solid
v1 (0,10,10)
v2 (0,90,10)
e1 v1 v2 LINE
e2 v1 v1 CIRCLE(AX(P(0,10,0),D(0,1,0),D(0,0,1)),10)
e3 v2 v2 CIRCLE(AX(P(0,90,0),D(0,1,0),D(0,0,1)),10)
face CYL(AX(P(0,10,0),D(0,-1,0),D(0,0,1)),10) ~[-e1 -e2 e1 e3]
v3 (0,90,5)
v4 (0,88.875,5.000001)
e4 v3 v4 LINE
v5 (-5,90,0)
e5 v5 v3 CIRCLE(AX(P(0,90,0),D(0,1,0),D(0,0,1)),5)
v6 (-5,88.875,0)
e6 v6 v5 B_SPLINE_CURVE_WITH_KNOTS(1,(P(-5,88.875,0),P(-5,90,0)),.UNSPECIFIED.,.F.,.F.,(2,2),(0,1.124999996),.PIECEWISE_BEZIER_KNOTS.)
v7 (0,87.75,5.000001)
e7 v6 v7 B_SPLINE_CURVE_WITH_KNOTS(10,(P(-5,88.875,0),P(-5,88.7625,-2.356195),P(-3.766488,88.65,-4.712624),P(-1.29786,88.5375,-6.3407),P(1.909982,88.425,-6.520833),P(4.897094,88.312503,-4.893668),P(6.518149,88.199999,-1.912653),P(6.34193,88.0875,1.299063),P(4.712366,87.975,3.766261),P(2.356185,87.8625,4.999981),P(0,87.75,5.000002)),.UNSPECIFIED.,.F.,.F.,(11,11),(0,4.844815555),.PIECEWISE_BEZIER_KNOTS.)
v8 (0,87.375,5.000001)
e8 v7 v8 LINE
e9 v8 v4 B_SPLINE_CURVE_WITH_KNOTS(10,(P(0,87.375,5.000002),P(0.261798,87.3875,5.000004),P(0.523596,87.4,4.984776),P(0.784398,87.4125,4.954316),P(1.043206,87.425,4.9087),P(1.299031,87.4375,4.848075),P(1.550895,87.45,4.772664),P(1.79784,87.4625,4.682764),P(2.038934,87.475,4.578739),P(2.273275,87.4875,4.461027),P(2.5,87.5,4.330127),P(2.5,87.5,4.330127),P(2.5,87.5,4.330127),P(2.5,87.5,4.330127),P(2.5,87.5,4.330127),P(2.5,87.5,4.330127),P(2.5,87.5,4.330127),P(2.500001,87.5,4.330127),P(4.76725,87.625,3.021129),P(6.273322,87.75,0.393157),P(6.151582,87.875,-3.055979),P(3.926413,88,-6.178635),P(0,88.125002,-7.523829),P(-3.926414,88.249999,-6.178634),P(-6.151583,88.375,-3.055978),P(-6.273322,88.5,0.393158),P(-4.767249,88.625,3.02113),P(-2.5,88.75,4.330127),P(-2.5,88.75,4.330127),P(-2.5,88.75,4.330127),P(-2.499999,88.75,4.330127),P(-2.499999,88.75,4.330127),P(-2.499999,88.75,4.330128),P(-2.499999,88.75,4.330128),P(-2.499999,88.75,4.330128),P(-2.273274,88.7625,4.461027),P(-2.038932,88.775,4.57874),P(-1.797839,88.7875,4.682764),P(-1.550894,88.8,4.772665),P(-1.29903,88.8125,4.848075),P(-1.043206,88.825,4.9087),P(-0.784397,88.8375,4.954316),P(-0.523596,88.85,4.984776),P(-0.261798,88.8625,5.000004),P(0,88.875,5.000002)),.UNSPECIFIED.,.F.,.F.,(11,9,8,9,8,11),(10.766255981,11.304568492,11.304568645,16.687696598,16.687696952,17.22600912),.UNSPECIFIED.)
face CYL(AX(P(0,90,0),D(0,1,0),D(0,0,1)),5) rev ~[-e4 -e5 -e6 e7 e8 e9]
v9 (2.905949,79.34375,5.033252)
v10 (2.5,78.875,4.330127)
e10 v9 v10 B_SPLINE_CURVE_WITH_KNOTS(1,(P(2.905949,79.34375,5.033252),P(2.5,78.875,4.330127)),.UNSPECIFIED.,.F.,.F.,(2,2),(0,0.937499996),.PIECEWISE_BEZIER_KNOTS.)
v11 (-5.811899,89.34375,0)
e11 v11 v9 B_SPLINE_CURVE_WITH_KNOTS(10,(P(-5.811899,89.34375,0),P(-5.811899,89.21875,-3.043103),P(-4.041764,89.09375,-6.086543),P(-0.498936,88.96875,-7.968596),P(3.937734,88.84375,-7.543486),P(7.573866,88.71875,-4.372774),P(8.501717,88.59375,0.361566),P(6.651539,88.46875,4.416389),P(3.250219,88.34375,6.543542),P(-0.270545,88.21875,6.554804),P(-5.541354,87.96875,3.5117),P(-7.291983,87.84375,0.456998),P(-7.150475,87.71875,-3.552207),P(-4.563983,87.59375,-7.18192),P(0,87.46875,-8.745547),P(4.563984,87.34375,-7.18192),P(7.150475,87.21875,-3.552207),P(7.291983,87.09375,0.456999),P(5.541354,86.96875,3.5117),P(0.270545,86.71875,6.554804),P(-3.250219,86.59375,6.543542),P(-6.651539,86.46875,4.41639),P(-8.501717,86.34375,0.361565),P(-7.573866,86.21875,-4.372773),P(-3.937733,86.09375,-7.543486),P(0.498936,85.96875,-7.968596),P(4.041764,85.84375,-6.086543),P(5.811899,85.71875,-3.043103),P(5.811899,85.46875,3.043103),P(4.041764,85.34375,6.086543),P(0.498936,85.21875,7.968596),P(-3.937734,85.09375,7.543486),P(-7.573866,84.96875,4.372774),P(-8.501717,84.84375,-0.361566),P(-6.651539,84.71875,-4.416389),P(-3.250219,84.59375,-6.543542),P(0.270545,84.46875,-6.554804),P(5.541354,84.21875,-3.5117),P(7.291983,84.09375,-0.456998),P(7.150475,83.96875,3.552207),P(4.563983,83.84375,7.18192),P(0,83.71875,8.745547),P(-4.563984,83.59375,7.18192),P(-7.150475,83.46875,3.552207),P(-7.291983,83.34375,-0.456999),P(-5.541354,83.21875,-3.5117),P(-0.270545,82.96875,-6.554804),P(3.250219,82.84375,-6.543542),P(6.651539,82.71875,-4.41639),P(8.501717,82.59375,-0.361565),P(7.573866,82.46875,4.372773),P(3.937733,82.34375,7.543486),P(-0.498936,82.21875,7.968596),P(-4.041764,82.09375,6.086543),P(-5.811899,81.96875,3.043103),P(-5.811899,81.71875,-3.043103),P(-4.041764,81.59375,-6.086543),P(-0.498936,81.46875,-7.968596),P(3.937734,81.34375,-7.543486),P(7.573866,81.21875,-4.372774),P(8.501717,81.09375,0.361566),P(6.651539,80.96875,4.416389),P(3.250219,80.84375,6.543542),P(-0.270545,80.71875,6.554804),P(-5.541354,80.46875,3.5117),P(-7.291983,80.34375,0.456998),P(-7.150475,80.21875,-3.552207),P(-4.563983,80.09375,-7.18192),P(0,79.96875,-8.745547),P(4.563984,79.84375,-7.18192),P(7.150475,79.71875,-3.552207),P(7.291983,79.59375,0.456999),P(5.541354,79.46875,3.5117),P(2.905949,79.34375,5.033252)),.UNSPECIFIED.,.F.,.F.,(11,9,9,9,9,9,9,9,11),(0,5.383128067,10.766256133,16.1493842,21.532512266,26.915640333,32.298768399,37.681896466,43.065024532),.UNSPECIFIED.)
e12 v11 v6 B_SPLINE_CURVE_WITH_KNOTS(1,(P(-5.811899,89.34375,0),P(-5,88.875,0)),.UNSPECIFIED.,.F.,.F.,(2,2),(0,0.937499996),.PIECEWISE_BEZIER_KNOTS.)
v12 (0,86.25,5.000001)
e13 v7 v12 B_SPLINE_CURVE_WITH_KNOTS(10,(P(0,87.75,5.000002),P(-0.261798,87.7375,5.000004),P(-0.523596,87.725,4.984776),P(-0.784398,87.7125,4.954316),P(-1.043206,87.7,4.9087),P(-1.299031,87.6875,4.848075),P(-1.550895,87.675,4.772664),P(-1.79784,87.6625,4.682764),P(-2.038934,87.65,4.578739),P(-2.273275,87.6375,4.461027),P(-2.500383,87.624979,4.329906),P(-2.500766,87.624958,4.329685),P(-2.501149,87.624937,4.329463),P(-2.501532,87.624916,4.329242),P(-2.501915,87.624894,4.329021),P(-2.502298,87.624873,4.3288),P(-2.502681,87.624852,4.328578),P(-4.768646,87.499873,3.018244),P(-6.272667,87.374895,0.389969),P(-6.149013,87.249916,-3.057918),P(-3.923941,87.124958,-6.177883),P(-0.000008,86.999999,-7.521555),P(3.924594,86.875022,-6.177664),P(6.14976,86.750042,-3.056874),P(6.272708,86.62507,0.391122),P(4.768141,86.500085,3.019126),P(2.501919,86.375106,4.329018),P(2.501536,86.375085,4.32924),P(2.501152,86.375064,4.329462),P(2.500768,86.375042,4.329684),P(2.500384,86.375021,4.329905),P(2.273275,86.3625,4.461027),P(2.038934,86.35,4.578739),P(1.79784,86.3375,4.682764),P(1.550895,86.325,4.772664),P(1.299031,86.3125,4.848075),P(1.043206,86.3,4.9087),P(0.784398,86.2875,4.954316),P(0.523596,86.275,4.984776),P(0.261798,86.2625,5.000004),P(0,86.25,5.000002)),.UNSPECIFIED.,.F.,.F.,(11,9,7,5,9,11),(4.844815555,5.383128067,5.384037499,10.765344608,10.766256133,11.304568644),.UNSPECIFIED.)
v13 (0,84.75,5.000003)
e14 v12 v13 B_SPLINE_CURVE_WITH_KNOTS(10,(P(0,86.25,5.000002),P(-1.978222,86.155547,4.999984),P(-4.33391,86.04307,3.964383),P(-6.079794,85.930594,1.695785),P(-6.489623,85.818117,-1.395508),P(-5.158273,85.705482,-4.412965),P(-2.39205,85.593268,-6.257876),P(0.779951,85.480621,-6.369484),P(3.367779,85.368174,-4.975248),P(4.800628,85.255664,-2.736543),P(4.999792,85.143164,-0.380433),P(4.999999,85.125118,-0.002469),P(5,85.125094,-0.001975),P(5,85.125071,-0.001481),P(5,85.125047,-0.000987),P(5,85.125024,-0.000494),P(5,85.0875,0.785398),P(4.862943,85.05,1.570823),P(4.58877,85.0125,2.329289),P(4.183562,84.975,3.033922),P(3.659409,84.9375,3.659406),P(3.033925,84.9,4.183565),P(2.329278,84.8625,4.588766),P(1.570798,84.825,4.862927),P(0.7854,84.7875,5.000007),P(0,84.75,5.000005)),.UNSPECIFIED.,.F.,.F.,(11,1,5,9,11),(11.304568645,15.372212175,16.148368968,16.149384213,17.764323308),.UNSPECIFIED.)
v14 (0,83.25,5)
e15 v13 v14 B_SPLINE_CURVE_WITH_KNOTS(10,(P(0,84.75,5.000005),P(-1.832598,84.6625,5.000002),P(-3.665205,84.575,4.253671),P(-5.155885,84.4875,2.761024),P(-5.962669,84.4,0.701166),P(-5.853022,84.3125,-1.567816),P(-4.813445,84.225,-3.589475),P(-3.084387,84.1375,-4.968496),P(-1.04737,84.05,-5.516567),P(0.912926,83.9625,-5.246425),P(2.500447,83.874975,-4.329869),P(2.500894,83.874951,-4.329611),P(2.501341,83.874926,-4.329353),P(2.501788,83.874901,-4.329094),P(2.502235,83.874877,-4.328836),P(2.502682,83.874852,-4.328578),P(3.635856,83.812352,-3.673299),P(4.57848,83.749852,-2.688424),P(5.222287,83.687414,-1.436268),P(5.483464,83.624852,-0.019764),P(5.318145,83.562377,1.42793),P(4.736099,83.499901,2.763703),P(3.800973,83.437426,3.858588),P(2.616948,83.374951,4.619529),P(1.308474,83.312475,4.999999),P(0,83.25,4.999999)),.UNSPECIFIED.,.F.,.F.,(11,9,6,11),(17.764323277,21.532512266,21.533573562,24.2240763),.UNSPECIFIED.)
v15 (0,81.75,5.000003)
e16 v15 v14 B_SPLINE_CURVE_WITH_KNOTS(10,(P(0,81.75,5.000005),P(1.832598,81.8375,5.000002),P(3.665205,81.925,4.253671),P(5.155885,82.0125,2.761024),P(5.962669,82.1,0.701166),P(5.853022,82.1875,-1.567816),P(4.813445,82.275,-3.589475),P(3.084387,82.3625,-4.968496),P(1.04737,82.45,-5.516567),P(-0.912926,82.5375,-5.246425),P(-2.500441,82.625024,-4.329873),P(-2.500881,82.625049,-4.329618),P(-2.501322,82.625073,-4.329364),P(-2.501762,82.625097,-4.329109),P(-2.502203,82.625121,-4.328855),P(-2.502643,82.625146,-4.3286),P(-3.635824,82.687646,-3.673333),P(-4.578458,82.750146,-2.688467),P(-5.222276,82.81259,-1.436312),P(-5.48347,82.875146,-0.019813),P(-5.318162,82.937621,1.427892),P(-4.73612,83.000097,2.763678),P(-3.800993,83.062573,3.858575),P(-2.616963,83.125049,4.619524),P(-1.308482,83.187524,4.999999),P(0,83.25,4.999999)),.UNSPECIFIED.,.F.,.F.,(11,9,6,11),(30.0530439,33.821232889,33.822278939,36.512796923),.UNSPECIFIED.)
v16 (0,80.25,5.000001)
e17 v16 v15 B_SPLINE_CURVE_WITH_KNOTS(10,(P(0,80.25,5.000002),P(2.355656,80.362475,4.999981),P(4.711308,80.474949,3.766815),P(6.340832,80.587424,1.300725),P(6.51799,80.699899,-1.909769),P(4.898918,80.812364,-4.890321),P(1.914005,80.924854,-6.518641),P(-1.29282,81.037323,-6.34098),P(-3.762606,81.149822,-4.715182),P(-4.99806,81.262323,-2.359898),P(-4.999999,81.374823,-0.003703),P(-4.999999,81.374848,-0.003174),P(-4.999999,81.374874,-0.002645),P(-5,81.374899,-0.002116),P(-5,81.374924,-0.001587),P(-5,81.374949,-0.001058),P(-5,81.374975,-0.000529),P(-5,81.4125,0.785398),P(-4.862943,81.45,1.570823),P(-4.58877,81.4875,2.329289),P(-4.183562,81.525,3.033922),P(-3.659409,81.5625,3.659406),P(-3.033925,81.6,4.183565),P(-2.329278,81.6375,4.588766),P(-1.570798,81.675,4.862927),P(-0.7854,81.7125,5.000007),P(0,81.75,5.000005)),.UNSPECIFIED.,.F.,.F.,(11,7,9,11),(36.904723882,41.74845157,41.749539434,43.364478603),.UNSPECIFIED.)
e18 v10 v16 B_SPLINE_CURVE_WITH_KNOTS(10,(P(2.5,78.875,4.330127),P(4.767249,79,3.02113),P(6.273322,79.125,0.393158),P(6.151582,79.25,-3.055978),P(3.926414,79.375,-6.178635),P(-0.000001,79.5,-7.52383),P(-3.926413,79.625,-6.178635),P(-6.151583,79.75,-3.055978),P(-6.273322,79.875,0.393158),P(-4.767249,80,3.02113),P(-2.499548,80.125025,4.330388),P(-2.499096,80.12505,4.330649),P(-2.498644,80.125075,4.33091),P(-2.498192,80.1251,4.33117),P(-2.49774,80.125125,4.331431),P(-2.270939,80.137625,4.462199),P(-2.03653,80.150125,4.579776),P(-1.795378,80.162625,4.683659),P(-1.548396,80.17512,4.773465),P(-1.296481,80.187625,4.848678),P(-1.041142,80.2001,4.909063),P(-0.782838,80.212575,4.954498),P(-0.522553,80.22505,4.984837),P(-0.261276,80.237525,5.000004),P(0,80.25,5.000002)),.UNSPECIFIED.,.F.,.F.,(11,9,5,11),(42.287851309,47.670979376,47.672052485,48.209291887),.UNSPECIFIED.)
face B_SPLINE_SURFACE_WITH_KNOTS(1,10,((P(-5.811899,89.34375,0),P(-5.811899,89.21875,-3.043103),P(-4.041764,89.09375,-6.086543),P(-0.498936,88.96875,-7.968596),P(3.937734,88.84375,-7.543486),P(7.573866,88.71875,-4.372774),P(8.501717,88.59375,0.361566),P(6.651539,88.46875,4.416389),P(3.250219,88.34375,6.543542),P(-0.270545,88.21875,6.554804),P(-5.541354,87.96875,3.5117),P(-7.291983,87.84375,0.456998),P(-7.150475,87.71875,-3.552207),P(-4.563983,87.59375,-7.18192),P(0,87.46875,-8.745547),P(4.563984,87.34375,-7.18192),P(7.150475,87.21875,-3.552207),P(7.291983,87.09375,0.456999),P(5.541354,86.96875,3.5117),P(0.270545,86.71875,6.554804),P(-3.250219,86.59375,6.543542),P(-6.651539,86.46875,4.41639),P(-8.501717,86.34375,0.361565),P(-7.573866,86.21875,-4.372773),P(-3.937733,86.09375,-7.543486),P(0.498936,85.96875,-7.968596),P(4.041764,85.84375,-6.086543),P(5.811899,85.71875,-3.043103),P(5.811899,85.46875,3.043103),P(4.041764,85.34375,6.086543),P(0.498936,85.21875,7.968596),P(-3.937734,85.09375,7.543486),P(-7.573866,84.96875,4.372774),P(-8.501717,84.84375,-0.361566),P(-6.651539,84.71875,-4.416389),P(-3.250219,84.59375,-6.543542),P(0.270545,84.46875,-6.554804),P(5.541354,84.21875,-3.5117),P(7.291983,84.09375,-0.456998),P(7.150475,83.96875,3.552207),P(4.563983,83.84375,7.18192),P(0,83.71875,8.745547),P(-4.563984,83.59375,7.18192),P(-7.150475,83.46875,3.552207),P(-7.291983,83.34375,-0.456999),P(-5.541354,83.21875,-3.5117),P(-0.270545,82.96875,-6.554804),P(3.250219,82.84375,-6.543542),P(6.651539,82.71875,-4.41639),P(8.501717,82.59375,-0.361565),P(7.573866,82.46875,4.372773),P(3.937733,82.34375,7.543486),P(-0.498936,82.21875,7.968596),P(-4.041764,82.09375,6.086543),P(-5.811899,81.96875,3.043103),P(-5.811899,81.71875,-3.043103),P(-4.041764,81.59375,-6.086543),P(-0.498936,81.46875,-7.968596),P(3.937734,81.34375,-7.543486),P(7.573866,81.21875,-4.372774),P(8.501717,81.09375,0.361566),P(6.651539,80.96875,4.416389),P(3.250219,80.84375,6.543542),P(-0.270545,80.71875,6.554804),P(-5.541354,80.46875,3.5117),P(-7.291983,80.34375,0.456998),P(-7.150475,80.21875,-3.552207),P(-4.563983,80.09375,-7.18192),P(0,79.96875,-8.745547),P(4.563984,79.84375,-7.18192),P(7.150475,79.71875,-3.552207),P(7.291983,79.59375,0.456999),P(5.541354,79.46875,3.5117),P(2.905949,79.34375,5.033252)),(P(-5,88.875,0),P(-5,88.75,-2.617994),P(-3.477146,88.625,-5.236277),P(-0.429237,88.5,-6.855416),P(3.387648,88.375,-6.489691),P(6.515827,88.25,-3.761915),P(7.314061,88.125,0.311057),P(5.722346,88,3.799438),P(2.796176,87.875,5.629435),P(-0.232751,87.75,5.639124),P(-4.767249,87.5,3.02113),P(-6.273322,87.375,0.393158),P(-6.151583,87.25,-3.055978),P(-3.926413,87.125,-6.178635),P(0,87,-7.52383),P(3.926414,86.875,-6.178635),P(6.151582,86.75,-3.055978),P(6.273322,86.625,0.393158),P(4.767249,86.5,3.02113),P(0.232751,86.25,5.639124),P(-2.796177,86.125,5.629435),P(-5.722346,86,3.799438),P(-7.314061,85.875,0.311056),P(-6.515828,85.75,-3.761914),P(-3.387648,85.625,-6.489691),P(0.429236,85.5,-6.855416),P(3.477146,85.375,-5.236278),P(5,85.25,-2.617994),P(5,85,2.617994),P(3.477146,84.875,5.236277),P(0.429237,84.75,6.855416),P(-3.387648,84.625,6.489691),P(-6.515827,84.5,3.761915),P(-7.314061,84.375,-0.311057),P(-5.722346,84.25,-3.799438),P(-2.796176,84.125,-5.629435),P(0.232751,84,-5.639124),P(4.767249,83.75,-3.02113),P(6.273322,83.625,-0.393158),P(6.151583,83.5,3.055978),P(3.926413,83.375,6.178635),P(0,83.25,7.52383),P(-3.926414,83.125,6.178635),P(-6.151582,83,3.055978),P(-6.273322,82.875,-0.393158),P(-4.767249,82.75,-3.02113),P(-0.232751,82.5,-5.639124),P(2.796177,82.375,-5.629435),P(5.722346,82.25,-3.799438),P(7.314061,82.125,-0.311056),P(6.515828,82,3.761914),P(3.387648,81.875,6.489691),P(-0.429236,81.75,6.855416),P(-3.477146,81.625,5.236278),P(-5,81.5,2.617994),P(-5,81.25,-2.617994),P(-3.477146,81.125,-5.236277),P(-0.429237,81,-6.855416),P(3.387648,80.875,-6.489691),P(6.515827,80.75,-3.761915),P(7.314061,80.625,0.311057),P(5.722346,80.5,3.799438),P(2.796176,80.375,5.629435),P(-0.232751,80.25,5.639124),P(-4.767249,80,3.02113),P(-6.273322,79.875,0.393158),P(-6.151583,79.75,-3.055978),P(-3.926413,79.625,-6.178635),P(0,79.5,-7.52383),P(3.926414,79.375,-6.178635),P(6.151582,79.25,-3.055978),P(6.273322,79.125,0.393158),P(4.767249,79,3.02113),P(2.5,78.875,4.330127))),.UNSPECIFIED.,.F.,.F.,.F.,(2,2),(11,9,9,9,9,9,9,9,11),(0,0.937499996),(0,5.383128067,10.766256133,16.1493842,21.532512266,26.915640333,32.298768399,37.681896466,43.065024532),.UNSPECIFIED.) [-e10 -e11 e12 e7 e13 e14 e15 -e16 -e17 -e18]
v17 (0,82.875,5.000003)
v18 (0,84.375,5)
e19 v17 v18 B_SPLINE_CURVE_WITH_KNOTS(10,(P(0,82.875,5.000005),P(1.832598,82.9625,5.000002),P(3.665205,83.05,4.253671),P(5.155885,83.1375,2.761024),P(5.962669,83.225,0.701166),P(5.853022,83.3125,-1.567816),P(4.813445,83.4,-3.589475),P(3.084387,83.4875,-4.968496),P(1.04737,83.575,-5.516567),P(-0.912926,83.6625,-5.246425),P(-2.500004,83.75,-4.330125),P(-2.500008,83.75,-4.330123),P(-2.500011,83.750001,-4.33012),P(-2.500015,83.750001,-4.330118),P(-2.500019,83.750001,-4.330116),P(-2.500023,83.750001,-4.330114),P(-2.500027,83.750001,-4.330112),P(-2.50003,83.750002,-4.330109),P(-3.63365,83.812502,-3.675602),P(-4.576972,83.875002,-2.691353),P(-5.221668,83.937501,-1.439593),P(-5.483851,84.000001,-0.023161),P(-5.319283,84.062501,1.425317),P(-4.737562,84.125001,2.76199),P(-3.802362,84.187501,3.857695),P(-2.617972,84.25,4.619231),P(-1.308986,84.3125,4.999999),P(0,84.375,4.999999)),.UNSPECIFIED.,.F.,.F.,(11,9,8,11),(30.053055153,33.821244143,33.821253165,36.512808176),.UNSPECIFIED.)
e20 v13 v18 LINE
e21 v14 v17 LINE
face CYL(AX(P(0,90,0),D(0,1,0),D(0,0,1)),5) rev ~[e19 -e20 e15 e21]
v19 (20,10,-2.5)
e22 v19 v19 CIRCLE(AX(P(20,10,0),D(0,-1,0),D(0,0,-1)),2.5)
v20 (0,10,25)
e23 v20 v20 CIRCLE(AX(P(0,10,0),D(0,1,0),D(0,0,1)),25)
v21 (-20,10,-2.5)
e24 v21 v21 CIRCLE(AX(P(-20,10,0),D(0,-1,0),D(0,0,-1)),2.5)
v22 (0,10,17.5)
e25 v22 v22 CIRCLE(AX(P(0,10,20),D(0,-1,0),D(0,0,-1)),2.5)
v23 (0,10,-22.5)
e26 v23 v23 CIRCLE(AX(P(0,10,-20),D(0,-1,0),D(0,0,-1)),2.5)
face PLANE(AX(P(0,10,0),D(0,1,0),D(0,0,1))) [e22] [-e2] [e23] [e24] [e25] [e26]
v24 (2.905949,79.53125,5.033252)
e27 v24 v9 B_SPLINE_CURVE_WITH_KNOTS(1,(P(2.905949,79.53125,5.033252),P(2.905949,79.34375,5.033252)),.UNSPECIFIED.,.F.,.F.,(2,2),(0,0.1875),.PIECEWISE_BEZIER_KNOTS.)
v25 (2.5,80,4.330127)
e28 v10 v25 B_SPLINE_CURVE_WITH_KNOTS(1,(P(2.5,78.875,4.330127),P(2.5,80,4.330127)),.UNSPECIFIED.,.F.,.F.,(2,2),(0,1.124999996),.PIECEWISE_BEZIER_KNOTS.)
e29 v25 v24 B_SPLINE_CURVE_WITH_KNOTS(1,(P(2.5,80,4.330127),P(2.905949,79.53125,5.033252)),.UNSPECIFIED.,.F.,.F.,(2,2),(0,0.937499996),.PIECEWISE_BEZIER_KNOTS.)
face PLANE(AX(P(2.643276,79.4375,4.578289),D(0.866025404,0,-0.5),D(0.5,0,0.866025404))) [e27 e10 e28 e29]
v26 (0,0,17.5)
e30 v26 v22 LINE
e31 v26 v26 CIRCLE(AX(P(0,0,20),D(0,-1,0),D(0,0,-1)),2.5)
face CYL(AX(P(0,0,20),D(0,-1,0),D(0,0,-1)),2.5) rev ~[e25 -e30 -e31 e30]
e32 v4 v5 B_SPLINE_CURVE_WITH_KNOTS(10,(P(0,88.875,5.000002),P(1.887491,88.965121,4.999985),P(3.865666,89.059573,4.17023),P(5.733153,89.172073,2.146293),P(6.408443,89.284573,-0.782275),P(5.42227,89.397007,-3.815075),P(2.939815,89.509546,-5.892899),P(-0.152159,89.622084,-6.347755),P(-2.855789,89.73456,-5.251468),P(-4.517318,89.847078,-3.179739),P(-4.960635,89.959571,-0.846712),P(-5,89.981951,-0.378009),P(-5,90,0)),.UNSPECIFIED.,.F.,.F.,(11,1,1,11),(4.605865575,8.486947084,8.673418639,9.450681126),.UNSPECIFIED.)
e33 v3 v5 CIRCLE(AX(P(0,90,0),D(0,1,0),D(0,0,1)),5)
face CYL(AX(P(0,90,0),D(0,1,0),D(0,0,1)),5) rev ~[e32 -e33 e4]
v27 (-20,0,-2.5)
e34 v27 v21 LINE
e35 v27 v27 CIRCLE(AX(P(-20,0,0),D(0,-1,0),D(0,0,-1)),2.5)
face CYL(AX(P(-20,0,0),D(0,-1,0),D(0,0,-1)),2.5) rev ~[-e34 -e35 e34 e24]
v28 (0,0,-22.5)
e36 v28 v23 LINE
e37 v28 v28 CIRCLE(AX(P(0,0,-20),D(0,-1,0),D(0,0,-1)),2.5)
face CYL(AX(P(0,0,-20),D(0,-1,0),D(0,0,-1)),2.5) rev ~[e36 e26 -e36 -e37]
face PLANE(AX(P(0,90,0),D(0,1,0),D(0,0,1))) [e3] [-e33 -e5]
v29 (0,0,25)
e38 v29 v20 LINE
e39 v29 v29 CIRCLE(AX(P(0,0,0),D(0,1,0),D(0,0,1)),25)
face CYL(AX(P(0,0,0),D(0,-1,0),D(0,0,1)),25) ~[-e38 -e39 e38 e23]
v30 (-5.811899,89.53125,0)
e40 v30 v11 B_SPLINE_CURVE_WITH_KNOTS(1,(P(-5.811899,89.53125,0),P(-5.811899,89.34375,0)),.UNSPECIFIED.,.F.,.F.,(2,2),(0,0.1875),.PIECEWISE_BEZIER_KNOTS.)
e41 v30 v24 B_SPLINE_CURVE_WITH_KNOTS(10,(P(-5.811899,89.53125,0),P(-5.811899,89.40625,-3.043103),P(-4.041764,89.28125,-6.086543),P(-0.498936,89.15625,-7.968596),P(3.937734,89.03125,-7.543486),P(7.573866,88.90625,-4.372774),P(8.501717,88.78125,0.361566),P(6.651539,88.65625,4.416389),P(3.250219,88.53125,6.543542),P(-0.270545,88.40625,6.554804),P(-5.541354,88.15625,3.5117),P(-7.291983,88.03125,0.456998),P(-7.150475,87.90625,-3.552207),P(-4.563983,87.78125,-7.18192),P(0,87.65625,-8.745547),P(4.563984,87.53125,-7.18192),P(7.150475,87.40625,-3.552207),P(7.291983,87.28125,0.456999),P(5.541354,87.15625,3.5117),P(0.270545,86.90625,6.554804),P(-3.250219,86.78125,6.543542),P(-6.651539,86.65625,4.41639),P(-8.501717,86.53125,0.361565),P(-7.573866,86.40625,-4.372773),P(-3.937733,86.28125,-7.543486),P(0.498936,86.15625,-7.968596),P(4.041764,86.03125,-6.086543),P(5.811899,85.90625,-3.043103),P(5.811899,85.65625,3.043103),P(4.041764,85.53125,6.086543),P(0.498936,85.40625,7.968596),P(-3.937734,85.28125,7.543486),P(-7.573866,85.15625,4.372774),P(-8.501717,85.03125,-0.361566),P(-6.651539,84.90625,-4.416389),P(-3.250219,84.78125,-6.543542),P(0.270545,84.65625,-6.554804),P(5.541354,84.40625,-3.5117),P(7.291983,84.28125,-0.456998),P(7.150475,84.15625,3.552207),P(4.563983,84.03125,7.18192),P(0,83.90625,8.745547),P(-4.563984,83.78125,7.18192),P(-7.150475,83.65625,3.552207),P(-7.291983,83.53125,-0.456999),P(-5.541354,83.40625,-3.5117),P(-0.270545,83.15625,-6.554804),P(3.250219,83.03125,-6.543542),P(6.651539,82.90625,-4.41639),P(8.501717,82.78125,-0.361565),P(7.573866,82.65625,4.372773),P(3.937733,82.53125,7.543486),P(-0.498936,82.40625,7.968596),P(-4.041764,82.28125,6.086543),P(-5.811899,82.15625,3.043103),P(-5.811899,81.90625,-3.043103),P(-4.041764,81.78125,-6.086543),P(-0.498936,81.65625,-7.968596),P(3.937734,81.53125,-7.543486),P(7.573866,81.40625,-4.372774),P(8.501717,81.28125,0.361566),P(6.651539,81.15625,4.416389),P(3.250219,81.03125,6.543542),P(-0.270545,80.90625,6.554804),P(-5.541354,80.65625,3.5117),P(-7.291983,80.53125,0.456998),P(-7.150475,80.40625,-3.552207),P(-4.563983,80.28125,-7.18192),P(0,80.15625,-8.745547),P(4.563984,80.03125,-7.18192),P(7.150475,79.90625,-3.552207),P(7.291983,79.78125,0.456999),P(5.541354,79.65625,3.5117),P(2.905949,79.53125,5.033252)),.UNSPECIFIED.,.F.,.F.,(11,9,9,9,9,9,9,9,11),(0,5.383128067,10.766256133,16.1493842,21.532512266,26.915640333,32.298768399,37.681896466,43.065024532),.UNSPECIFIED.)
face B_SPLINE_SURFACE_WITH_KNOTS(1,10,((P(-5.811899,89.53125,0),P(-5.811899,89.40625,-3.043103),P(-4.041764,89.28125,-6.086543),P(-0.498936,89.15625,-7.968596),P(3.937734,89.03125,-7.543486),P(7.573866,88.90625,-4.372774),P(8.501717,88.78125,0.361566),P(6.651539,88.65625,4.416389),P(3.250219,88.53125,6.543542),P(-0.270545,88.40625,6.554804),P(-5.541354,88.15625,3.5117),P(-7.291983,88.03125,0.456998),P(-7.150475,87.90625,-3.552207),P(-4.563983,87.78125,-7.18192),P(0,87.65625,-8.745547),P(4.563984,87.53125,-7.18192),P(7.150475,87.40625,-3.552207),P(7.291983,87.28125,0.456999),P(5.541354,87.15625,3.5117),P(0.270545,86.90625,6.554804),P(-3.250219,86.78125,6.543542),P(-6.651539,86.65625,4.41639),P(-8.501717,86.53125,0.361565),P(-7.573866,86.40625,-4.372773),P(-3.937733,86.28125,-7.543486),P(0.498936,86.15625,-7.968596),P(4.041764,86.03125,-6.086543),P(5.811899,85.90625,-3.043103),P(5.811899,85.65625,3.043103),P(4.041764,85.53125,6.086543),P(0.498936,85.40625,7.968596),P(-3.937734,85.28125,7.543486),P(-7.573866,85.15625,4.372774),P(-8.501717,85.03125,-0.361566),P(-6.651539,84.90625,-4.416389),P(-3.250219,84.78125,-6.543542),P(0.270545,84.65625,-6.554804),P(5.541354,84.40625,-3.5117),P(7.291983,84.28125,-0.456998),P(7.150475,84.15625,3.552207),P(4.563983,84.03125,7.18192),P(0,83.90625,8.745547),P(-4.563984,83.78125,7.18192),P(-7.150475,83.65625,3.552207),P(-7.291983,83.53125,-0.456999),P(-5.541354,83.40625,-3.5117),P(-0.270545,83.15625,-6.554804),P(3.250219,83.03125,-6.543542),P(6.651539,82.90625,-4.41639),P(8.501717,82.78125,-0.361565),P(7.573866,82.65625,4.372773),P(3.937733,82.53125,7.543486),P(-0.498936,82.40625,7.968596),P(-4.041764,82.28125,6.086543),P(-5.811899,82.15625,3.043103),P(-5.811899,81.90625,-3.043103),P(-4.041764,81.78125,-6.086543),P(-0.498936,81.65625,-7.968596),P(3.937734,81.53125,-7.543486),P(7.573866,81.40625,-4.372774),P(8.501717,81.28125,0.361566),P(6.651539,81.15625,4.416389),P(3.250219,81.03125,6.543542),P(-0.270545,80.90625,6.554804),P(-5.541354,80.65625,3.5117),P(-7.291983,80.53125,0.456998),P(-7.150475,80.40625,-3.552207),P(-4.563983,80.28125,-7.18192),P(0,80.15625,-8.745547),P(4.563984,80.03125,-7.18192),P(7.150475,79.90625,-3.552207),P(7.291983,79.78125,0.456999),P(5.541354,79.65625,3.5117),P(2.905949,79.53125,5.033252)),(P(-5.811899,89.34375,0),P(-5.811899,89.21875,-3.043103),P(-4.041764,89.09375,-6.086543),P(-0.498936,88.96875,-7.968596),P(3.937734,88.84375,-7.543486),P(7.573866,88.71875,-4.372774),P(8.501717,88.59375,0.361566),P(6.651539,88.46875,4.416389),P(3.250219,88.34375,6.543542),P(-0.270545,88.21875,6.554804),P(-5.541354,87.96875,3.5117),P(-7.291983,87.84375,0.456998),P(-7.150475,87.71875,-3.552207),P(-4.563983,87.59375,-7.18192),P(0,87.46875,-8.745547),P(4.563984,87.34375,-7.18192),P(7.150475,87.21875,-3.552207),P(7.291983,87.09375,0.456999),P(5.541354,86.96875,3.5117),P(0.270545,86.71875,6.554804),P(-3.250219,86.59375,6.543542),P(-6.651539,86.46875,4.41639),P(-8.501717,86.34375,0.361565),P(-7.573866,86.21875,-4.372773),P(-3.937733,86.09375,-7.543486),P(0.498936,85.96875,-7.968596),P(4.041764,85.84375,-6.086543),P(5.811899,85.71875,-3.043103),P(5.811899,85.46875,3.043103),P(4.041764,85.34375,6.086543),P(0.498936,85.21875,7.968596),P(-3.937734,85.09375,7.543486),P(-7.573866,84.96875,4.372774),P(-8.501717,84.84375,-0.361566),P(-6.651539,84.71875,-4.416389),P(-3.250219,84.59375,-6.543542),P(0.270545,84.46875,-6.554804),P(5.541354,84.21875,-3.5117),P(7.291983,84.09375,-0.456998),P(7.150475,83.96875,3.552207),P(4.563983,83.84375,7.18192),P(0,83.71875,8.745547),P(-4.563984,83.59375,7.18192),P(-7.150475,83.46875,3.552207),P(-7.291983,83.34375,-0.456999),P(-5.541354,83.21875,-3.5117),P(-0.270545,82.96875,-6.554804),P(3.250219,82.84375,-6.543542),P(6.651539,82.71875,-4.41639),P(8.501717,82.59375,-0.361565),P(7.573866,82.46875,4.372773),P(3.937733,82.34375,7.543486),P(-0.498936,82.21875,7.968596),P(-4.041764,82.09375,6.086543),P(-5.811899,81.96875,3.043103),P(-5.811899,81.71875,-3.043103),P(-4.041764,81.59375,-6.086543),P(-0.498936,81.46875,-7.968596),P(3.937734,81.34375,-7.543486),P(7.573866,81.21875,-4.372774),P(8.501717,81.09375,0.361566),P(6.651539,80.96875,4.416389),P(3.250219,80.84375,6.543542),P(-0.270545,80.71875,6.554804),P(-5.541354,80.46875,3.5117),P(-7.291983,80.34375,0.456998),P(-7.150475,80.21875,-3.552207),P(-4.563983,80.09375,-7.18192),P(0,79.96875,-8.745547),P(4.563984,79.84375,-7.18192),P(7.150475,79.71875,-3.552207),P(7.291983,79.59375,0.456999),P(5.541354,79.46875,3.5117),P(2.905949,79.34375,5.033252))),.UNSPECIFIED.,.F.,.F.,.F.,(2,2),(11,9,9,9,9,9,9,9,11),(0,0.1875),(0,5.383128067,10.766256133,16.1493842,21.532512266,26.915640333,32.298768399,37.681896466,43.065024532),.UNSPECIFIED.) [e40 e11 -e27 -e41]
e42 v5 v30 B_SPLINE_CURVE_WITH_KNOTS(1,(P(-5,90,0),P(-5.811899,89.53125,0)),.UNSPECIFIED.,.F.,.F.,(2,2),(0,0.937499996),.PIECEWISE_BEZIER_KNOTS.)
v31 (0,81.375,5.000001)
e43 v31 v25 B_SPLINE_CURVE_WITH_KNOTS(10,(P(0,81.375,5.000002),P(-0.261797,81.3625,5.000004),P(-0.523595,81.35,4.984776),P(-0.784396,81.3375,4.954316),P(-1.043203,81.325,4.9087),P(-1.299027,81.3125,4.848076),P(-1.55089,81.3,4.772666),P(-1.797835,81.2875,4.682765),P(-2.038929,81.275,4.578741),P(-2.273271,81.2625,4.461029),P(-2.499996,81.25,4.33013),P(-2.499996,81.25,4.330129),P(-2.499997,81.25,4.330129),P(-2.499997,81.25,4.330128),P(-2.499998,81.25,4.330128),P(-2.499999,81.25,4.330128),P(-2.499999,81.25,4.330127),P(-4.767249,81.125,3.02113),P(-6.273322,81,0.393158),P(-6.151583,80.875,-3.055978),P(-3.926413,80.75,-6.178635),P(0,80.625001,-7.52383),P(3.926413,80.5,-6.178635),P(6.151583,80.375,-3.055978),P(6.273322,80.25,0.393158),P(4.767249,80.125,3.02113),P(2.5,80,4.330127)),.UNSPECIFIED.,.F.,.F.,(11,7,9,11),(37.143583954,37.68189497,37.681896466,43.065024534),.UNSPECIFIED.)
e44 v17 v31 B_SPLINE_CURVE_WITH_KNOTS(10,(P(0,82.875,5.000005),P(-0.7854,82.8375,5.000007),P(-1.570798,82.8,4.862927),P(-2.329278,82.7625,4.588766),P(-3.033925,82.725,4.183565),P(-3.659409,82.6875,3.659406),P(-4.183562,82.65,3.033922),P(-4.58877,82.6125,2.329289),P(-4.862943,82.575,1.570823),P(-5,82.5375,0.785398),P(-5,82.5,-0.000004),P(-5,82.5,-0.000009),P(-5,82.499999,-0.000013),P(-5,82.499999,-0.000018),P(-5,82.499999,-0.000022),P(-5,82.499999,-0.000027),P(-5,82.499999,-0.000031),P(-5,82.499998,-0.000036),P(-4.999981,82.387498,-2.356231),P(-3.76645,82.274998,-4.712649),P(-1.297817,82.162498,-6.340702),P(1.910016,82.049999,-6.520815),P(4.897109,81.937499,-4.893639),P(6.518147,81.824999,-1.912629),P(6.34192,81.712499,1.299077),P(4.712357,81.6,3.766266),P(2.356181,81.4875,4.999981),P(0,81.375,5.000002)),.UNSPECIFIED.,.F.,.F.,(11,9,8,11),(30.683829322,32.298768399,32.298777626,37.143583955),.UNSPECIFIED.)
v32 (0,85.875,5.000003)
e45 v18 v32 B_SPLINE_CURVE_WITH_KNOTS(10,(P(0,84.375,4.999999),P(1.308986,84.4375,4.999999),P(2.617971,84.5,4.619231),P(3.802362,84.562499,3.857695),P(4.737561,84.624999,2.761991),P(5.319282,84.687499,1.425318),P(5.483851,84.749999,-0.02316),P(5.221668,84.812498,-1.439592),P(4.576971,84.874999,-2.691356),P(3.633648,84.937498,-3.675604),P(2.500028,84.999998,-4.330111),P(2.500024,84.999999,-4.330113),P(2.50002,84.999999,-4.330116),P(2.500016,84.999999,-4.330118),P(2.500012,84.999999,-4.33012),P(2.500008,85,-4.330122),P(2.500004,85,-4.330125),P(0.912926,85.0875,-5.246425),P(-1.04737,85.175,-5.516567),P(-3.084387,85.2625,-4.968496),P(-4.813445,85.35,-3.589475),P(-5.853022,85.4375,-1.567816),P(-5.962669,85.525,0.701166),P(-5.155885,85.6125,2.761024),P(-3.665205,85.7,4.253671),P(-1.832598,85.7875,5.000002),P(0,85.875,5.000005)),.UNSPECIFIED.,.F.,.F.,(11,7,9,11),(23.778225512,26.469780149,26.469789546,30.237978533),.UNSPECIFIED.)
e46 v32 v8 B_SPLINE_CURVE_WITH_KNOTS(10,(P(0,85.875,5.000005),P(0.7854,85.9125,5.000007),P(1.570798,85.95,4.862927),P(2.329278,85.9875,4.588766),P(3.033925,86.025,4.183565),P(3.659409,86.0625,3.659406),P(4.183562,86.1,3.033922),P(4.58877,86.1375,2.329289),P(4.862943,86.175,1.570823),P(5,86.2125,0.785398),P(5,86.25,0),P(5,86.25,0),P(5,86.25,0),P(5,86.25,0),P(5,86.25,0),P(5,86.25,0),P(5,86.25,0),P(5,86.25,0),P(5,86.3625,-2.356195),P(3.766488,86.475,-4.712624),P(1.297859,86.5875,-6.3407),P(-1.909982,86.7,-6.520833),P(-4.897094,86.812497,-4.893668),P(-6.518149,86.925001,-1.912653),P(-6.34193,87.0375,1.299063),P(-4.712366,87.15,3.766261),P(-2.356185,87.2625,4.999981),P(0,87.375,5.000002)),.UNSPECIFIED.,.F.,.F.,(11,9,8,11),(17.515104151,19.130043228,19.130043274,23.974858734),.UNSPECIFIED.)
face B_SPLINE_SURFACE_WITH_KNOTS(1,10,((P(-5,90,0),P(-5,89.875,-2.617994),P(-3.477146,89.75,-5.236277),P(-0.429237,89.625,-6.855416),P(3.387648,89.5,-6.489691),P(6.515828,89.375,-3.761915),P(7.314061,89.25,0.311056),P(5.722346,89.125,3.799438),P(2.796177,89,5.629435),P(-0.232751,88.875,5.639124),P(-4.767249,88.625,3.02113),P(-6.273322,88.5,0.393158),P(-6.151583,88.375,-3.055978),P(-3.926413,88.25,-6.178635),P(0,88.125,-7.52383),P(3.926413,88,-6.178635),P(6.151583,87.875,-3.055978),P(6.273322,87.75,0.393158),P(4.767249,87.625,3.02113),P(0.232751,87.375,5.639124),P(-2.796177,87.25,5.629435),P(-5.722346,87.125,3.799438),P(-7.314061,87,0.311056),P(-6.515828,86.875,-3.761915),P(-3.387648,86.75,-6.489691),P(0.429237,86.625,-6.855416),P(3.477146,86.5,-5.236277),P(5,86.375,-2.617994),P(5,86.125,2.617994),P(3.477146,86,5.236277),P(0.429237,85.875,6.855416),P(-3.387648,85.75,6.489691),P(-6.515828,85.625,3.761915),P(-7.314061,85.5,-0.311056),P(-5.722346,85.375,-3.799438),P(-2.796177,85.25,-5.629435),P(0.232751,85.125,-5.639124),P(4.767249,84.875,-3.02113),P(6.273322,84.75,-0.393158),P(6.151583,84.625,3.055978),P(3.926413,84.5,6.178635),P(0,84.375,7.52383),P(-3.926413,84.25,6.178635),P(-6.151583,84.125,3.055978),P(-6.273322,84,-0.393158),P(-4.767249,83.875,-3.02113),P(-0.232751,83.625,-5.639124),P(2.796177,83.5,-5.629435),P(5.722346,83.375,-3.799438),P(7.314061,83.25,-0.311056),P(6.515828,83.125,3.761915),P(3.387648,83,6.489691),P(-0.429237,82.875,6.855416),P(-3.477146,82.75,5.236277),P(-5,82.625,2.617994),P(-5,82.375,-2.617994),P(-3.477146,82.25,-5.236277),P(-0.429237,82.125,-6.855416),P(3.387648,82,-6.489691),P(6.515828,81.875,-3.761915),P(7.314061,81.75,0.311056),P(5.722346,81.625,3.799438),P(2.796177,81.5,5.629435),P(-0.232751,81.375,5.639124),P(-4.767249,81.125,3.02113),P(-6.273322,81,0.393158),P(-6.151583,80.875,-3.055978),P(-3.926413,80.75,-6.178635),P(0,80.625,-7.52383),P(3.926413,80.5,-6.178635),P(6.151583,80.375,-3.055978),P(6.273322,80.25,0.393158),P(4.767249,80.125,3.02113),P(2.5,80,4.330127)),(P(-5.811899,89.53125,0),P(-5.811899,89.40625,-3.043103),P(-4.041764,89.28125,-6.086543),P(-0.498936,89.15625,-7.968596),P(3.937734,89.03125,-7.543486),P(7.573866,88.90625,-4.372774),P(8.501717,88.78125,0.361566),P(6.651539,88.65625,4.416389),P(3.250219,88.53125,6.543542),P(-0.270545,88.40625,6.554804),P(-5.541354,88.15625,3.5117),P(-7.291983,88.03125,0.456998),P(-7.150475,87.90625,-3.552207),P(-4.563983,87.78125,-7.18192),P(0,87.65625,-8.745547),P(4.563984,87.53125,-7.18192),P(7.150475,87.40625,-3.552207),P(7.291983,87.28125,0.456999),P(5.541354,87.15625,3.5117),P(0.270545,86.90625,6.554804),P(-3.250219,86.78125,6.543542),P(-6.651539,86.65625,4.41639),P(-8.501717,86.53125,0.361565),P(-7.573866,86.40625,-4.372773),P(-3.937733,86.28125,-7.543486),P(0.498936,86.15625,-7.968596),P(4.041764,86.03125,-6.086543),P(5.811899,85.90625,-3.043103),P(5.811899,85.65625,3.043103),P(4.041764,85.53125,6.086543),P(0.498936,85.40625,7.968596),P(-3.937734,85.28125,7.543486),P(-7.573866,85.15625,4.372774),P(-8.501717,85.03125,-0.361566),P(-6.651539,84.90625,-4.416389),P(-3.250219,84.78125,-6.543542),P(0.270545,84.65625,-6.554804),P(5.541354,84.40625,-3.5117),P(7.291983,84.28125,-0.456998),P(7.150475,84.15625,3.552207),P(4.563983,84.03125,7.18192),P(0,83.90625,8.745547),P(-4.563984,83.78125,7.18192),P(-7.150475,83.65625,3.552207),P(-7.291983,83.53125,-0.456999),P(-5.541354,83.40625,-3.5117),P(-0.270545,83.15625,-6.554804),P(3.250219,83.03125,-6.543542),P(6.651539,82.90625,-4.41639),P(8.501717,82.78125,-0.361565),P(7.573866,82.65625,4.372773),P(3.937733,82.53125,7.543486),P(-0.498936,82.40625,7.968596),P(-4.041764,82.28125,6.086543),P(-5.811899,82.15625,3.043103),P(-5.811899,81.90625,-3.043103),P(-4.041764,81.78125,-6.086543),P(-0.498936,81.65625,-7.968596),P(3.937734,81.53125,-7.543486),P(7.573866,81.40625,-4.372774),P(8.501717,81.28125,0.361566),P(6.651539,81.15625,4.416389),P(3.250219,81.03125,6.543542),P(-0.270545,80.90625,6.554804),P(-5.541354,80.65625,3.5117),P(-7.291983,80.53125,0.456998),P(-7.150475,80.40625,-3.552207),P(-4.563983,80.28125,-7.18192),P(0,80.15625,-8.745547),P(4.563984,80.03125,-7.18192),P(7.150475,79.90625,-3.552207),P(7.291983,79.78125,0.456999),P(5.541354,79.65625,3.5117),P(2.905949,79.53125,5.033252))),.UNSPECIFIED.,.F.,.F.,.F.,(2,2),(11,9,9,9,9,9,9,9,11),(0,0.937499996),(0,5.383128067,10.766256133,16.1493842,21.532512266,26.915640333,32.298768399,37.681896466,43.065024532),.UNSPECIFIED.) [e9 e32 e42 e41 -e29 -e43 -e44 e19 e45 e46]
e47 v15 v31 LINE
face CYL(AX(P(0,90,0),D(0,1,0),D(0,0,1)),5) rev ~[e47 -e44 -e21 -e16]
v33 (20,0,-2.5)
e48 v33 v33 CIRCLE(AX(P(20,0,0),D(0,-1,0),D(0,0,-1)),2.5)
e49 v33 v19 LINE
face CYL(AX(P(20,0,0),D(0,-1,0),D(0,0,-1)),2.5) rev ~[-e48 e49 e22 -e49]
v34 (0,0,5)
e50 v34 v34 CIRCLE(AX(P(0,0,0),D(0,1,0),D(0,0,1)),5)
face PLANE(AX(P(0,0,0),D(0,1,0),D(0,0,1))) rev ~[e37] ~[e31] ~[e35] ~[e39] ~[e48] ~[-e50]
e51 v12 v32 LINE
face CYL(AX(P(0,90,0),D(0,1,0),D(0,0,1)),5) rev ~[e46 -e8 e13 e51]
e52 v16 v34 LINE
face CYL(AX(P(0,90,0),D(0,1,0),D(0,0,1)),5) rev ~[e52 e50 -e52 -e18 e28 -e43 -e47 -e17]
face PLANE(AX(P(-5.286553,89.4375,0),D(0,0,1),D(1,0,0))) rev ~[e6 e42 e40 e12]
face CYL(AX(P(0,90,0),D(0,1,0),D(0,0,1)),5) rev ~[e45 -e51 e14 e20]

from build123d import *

# Parameters (mm, degrees)
SKETCH1_R           = 25
BOSS_EXTRUDE1_DEPTH = 10
SKETCH2_R           = 10
BOSS_EXTRUDE2_DEPTH = 80
SKETCH3_R           = 5
CUT_EXTRUDE1_DEPTH  = 97.695398029
THREAD1_PITCH       = 1.5
THREAD1_HEIGHT      = 10
THREAD1_RADIUS      = 5
THREAD1_START_ANGLE = -90
SKETCH6_R           = 2.5
CUT_EXTRUDE2_DEPTH  = 97.695398122


with BuildPart() as part:
    # Sketch1 → Boss-Extrude1 (new body)
    with BuildSketch(Plane(origin=(0, 0, 0), x_dir=(1, 0, 0), z_dir=(0, 1, 0))):
        with Locations(Location((0, 0, 0), (0, 0, 270))):
            Circle(SKETCH1_R)
    extrude(amount=BOSS_EXTRUDE1_DEPTH)

    # Sketch2 → Boss-Extrude2 (add)
    with BuildSketch(Plane(origin=(0, 10, 0), x_dir=(1, 0, 0), z_dir=(0, 1, 0))):
        with Locations(Location((0, 0, 0), (0, 0, 270))):
            Circle(SKETCH2_R)
    extrude(amount=BOSS_EXTRUDE2_DEPTH)

    # Sketch3 → Cut-Extrude1 (cut, through all)
    with BuildSketch(Plane(origin=(0, 90, 0), x_dir=(1, 0, 0), z_dir=(0, 1, 0))):
        with Locations(Location((0, 0, 0), (0, 0, 270))):
            Circle(SKETCH3_R)
    extrude(amount=-CUT_EXTRUDE1_DEPTH, mode=Mode.SUBTRACT)

    # Thread1: sweep along a helix
    with BuildLine() as thread1_path:
        add(Helix(THREAD1_PITCH, THREAD1_HEIGHT, THREAD1_RADIUS, center=(0, 90, 0), direction=(0, -1, 0), mode=Mode.PRIVATE).rotate(Axis((0, 90, 0), (0, -1, 0)), THREAD1_START_ANGLE))
    # Thread Profile1 → Thread1 (sweep, cut)
    with BuildSketch(Plane(origin=(-5, 90, 0), x_dir=(-1, 0, 0), z_dir=(0, 0, 1))):
        Polygon((0, 0), (0.811898813, 0.468749998), (0.811898813, 0.656249998), (0, 1.124999996), align=None)
    sweep(path=thread1_path.line, is_frenet=True, mode=Mode.SUBTRACT)

    # Sketch6 → Cut-Extrude2 (cut, through all)
    with BuildSketch(Plane.XZ):
        with Locations(Location((0, 20, 0), (0, 0, 270))):
            Circle(SKETCH6_R)
        with Locations(Location((20, 0, 0), (0, 0, 270))):
            Circle(SKETCH6_R)
        with Locations(Location((0, -20, 0), (0, 0, 270))):
            Circle(SKETCH6_R)
        with Locations(Location((-20, 0, 0), (0, 0, 270))):
            Circle(SKETCH6_R)
    extrude(amount=-CUT_EXTRUDE2_DEPTH, mode=Mode.SUBTRACT)


solid = part.part
